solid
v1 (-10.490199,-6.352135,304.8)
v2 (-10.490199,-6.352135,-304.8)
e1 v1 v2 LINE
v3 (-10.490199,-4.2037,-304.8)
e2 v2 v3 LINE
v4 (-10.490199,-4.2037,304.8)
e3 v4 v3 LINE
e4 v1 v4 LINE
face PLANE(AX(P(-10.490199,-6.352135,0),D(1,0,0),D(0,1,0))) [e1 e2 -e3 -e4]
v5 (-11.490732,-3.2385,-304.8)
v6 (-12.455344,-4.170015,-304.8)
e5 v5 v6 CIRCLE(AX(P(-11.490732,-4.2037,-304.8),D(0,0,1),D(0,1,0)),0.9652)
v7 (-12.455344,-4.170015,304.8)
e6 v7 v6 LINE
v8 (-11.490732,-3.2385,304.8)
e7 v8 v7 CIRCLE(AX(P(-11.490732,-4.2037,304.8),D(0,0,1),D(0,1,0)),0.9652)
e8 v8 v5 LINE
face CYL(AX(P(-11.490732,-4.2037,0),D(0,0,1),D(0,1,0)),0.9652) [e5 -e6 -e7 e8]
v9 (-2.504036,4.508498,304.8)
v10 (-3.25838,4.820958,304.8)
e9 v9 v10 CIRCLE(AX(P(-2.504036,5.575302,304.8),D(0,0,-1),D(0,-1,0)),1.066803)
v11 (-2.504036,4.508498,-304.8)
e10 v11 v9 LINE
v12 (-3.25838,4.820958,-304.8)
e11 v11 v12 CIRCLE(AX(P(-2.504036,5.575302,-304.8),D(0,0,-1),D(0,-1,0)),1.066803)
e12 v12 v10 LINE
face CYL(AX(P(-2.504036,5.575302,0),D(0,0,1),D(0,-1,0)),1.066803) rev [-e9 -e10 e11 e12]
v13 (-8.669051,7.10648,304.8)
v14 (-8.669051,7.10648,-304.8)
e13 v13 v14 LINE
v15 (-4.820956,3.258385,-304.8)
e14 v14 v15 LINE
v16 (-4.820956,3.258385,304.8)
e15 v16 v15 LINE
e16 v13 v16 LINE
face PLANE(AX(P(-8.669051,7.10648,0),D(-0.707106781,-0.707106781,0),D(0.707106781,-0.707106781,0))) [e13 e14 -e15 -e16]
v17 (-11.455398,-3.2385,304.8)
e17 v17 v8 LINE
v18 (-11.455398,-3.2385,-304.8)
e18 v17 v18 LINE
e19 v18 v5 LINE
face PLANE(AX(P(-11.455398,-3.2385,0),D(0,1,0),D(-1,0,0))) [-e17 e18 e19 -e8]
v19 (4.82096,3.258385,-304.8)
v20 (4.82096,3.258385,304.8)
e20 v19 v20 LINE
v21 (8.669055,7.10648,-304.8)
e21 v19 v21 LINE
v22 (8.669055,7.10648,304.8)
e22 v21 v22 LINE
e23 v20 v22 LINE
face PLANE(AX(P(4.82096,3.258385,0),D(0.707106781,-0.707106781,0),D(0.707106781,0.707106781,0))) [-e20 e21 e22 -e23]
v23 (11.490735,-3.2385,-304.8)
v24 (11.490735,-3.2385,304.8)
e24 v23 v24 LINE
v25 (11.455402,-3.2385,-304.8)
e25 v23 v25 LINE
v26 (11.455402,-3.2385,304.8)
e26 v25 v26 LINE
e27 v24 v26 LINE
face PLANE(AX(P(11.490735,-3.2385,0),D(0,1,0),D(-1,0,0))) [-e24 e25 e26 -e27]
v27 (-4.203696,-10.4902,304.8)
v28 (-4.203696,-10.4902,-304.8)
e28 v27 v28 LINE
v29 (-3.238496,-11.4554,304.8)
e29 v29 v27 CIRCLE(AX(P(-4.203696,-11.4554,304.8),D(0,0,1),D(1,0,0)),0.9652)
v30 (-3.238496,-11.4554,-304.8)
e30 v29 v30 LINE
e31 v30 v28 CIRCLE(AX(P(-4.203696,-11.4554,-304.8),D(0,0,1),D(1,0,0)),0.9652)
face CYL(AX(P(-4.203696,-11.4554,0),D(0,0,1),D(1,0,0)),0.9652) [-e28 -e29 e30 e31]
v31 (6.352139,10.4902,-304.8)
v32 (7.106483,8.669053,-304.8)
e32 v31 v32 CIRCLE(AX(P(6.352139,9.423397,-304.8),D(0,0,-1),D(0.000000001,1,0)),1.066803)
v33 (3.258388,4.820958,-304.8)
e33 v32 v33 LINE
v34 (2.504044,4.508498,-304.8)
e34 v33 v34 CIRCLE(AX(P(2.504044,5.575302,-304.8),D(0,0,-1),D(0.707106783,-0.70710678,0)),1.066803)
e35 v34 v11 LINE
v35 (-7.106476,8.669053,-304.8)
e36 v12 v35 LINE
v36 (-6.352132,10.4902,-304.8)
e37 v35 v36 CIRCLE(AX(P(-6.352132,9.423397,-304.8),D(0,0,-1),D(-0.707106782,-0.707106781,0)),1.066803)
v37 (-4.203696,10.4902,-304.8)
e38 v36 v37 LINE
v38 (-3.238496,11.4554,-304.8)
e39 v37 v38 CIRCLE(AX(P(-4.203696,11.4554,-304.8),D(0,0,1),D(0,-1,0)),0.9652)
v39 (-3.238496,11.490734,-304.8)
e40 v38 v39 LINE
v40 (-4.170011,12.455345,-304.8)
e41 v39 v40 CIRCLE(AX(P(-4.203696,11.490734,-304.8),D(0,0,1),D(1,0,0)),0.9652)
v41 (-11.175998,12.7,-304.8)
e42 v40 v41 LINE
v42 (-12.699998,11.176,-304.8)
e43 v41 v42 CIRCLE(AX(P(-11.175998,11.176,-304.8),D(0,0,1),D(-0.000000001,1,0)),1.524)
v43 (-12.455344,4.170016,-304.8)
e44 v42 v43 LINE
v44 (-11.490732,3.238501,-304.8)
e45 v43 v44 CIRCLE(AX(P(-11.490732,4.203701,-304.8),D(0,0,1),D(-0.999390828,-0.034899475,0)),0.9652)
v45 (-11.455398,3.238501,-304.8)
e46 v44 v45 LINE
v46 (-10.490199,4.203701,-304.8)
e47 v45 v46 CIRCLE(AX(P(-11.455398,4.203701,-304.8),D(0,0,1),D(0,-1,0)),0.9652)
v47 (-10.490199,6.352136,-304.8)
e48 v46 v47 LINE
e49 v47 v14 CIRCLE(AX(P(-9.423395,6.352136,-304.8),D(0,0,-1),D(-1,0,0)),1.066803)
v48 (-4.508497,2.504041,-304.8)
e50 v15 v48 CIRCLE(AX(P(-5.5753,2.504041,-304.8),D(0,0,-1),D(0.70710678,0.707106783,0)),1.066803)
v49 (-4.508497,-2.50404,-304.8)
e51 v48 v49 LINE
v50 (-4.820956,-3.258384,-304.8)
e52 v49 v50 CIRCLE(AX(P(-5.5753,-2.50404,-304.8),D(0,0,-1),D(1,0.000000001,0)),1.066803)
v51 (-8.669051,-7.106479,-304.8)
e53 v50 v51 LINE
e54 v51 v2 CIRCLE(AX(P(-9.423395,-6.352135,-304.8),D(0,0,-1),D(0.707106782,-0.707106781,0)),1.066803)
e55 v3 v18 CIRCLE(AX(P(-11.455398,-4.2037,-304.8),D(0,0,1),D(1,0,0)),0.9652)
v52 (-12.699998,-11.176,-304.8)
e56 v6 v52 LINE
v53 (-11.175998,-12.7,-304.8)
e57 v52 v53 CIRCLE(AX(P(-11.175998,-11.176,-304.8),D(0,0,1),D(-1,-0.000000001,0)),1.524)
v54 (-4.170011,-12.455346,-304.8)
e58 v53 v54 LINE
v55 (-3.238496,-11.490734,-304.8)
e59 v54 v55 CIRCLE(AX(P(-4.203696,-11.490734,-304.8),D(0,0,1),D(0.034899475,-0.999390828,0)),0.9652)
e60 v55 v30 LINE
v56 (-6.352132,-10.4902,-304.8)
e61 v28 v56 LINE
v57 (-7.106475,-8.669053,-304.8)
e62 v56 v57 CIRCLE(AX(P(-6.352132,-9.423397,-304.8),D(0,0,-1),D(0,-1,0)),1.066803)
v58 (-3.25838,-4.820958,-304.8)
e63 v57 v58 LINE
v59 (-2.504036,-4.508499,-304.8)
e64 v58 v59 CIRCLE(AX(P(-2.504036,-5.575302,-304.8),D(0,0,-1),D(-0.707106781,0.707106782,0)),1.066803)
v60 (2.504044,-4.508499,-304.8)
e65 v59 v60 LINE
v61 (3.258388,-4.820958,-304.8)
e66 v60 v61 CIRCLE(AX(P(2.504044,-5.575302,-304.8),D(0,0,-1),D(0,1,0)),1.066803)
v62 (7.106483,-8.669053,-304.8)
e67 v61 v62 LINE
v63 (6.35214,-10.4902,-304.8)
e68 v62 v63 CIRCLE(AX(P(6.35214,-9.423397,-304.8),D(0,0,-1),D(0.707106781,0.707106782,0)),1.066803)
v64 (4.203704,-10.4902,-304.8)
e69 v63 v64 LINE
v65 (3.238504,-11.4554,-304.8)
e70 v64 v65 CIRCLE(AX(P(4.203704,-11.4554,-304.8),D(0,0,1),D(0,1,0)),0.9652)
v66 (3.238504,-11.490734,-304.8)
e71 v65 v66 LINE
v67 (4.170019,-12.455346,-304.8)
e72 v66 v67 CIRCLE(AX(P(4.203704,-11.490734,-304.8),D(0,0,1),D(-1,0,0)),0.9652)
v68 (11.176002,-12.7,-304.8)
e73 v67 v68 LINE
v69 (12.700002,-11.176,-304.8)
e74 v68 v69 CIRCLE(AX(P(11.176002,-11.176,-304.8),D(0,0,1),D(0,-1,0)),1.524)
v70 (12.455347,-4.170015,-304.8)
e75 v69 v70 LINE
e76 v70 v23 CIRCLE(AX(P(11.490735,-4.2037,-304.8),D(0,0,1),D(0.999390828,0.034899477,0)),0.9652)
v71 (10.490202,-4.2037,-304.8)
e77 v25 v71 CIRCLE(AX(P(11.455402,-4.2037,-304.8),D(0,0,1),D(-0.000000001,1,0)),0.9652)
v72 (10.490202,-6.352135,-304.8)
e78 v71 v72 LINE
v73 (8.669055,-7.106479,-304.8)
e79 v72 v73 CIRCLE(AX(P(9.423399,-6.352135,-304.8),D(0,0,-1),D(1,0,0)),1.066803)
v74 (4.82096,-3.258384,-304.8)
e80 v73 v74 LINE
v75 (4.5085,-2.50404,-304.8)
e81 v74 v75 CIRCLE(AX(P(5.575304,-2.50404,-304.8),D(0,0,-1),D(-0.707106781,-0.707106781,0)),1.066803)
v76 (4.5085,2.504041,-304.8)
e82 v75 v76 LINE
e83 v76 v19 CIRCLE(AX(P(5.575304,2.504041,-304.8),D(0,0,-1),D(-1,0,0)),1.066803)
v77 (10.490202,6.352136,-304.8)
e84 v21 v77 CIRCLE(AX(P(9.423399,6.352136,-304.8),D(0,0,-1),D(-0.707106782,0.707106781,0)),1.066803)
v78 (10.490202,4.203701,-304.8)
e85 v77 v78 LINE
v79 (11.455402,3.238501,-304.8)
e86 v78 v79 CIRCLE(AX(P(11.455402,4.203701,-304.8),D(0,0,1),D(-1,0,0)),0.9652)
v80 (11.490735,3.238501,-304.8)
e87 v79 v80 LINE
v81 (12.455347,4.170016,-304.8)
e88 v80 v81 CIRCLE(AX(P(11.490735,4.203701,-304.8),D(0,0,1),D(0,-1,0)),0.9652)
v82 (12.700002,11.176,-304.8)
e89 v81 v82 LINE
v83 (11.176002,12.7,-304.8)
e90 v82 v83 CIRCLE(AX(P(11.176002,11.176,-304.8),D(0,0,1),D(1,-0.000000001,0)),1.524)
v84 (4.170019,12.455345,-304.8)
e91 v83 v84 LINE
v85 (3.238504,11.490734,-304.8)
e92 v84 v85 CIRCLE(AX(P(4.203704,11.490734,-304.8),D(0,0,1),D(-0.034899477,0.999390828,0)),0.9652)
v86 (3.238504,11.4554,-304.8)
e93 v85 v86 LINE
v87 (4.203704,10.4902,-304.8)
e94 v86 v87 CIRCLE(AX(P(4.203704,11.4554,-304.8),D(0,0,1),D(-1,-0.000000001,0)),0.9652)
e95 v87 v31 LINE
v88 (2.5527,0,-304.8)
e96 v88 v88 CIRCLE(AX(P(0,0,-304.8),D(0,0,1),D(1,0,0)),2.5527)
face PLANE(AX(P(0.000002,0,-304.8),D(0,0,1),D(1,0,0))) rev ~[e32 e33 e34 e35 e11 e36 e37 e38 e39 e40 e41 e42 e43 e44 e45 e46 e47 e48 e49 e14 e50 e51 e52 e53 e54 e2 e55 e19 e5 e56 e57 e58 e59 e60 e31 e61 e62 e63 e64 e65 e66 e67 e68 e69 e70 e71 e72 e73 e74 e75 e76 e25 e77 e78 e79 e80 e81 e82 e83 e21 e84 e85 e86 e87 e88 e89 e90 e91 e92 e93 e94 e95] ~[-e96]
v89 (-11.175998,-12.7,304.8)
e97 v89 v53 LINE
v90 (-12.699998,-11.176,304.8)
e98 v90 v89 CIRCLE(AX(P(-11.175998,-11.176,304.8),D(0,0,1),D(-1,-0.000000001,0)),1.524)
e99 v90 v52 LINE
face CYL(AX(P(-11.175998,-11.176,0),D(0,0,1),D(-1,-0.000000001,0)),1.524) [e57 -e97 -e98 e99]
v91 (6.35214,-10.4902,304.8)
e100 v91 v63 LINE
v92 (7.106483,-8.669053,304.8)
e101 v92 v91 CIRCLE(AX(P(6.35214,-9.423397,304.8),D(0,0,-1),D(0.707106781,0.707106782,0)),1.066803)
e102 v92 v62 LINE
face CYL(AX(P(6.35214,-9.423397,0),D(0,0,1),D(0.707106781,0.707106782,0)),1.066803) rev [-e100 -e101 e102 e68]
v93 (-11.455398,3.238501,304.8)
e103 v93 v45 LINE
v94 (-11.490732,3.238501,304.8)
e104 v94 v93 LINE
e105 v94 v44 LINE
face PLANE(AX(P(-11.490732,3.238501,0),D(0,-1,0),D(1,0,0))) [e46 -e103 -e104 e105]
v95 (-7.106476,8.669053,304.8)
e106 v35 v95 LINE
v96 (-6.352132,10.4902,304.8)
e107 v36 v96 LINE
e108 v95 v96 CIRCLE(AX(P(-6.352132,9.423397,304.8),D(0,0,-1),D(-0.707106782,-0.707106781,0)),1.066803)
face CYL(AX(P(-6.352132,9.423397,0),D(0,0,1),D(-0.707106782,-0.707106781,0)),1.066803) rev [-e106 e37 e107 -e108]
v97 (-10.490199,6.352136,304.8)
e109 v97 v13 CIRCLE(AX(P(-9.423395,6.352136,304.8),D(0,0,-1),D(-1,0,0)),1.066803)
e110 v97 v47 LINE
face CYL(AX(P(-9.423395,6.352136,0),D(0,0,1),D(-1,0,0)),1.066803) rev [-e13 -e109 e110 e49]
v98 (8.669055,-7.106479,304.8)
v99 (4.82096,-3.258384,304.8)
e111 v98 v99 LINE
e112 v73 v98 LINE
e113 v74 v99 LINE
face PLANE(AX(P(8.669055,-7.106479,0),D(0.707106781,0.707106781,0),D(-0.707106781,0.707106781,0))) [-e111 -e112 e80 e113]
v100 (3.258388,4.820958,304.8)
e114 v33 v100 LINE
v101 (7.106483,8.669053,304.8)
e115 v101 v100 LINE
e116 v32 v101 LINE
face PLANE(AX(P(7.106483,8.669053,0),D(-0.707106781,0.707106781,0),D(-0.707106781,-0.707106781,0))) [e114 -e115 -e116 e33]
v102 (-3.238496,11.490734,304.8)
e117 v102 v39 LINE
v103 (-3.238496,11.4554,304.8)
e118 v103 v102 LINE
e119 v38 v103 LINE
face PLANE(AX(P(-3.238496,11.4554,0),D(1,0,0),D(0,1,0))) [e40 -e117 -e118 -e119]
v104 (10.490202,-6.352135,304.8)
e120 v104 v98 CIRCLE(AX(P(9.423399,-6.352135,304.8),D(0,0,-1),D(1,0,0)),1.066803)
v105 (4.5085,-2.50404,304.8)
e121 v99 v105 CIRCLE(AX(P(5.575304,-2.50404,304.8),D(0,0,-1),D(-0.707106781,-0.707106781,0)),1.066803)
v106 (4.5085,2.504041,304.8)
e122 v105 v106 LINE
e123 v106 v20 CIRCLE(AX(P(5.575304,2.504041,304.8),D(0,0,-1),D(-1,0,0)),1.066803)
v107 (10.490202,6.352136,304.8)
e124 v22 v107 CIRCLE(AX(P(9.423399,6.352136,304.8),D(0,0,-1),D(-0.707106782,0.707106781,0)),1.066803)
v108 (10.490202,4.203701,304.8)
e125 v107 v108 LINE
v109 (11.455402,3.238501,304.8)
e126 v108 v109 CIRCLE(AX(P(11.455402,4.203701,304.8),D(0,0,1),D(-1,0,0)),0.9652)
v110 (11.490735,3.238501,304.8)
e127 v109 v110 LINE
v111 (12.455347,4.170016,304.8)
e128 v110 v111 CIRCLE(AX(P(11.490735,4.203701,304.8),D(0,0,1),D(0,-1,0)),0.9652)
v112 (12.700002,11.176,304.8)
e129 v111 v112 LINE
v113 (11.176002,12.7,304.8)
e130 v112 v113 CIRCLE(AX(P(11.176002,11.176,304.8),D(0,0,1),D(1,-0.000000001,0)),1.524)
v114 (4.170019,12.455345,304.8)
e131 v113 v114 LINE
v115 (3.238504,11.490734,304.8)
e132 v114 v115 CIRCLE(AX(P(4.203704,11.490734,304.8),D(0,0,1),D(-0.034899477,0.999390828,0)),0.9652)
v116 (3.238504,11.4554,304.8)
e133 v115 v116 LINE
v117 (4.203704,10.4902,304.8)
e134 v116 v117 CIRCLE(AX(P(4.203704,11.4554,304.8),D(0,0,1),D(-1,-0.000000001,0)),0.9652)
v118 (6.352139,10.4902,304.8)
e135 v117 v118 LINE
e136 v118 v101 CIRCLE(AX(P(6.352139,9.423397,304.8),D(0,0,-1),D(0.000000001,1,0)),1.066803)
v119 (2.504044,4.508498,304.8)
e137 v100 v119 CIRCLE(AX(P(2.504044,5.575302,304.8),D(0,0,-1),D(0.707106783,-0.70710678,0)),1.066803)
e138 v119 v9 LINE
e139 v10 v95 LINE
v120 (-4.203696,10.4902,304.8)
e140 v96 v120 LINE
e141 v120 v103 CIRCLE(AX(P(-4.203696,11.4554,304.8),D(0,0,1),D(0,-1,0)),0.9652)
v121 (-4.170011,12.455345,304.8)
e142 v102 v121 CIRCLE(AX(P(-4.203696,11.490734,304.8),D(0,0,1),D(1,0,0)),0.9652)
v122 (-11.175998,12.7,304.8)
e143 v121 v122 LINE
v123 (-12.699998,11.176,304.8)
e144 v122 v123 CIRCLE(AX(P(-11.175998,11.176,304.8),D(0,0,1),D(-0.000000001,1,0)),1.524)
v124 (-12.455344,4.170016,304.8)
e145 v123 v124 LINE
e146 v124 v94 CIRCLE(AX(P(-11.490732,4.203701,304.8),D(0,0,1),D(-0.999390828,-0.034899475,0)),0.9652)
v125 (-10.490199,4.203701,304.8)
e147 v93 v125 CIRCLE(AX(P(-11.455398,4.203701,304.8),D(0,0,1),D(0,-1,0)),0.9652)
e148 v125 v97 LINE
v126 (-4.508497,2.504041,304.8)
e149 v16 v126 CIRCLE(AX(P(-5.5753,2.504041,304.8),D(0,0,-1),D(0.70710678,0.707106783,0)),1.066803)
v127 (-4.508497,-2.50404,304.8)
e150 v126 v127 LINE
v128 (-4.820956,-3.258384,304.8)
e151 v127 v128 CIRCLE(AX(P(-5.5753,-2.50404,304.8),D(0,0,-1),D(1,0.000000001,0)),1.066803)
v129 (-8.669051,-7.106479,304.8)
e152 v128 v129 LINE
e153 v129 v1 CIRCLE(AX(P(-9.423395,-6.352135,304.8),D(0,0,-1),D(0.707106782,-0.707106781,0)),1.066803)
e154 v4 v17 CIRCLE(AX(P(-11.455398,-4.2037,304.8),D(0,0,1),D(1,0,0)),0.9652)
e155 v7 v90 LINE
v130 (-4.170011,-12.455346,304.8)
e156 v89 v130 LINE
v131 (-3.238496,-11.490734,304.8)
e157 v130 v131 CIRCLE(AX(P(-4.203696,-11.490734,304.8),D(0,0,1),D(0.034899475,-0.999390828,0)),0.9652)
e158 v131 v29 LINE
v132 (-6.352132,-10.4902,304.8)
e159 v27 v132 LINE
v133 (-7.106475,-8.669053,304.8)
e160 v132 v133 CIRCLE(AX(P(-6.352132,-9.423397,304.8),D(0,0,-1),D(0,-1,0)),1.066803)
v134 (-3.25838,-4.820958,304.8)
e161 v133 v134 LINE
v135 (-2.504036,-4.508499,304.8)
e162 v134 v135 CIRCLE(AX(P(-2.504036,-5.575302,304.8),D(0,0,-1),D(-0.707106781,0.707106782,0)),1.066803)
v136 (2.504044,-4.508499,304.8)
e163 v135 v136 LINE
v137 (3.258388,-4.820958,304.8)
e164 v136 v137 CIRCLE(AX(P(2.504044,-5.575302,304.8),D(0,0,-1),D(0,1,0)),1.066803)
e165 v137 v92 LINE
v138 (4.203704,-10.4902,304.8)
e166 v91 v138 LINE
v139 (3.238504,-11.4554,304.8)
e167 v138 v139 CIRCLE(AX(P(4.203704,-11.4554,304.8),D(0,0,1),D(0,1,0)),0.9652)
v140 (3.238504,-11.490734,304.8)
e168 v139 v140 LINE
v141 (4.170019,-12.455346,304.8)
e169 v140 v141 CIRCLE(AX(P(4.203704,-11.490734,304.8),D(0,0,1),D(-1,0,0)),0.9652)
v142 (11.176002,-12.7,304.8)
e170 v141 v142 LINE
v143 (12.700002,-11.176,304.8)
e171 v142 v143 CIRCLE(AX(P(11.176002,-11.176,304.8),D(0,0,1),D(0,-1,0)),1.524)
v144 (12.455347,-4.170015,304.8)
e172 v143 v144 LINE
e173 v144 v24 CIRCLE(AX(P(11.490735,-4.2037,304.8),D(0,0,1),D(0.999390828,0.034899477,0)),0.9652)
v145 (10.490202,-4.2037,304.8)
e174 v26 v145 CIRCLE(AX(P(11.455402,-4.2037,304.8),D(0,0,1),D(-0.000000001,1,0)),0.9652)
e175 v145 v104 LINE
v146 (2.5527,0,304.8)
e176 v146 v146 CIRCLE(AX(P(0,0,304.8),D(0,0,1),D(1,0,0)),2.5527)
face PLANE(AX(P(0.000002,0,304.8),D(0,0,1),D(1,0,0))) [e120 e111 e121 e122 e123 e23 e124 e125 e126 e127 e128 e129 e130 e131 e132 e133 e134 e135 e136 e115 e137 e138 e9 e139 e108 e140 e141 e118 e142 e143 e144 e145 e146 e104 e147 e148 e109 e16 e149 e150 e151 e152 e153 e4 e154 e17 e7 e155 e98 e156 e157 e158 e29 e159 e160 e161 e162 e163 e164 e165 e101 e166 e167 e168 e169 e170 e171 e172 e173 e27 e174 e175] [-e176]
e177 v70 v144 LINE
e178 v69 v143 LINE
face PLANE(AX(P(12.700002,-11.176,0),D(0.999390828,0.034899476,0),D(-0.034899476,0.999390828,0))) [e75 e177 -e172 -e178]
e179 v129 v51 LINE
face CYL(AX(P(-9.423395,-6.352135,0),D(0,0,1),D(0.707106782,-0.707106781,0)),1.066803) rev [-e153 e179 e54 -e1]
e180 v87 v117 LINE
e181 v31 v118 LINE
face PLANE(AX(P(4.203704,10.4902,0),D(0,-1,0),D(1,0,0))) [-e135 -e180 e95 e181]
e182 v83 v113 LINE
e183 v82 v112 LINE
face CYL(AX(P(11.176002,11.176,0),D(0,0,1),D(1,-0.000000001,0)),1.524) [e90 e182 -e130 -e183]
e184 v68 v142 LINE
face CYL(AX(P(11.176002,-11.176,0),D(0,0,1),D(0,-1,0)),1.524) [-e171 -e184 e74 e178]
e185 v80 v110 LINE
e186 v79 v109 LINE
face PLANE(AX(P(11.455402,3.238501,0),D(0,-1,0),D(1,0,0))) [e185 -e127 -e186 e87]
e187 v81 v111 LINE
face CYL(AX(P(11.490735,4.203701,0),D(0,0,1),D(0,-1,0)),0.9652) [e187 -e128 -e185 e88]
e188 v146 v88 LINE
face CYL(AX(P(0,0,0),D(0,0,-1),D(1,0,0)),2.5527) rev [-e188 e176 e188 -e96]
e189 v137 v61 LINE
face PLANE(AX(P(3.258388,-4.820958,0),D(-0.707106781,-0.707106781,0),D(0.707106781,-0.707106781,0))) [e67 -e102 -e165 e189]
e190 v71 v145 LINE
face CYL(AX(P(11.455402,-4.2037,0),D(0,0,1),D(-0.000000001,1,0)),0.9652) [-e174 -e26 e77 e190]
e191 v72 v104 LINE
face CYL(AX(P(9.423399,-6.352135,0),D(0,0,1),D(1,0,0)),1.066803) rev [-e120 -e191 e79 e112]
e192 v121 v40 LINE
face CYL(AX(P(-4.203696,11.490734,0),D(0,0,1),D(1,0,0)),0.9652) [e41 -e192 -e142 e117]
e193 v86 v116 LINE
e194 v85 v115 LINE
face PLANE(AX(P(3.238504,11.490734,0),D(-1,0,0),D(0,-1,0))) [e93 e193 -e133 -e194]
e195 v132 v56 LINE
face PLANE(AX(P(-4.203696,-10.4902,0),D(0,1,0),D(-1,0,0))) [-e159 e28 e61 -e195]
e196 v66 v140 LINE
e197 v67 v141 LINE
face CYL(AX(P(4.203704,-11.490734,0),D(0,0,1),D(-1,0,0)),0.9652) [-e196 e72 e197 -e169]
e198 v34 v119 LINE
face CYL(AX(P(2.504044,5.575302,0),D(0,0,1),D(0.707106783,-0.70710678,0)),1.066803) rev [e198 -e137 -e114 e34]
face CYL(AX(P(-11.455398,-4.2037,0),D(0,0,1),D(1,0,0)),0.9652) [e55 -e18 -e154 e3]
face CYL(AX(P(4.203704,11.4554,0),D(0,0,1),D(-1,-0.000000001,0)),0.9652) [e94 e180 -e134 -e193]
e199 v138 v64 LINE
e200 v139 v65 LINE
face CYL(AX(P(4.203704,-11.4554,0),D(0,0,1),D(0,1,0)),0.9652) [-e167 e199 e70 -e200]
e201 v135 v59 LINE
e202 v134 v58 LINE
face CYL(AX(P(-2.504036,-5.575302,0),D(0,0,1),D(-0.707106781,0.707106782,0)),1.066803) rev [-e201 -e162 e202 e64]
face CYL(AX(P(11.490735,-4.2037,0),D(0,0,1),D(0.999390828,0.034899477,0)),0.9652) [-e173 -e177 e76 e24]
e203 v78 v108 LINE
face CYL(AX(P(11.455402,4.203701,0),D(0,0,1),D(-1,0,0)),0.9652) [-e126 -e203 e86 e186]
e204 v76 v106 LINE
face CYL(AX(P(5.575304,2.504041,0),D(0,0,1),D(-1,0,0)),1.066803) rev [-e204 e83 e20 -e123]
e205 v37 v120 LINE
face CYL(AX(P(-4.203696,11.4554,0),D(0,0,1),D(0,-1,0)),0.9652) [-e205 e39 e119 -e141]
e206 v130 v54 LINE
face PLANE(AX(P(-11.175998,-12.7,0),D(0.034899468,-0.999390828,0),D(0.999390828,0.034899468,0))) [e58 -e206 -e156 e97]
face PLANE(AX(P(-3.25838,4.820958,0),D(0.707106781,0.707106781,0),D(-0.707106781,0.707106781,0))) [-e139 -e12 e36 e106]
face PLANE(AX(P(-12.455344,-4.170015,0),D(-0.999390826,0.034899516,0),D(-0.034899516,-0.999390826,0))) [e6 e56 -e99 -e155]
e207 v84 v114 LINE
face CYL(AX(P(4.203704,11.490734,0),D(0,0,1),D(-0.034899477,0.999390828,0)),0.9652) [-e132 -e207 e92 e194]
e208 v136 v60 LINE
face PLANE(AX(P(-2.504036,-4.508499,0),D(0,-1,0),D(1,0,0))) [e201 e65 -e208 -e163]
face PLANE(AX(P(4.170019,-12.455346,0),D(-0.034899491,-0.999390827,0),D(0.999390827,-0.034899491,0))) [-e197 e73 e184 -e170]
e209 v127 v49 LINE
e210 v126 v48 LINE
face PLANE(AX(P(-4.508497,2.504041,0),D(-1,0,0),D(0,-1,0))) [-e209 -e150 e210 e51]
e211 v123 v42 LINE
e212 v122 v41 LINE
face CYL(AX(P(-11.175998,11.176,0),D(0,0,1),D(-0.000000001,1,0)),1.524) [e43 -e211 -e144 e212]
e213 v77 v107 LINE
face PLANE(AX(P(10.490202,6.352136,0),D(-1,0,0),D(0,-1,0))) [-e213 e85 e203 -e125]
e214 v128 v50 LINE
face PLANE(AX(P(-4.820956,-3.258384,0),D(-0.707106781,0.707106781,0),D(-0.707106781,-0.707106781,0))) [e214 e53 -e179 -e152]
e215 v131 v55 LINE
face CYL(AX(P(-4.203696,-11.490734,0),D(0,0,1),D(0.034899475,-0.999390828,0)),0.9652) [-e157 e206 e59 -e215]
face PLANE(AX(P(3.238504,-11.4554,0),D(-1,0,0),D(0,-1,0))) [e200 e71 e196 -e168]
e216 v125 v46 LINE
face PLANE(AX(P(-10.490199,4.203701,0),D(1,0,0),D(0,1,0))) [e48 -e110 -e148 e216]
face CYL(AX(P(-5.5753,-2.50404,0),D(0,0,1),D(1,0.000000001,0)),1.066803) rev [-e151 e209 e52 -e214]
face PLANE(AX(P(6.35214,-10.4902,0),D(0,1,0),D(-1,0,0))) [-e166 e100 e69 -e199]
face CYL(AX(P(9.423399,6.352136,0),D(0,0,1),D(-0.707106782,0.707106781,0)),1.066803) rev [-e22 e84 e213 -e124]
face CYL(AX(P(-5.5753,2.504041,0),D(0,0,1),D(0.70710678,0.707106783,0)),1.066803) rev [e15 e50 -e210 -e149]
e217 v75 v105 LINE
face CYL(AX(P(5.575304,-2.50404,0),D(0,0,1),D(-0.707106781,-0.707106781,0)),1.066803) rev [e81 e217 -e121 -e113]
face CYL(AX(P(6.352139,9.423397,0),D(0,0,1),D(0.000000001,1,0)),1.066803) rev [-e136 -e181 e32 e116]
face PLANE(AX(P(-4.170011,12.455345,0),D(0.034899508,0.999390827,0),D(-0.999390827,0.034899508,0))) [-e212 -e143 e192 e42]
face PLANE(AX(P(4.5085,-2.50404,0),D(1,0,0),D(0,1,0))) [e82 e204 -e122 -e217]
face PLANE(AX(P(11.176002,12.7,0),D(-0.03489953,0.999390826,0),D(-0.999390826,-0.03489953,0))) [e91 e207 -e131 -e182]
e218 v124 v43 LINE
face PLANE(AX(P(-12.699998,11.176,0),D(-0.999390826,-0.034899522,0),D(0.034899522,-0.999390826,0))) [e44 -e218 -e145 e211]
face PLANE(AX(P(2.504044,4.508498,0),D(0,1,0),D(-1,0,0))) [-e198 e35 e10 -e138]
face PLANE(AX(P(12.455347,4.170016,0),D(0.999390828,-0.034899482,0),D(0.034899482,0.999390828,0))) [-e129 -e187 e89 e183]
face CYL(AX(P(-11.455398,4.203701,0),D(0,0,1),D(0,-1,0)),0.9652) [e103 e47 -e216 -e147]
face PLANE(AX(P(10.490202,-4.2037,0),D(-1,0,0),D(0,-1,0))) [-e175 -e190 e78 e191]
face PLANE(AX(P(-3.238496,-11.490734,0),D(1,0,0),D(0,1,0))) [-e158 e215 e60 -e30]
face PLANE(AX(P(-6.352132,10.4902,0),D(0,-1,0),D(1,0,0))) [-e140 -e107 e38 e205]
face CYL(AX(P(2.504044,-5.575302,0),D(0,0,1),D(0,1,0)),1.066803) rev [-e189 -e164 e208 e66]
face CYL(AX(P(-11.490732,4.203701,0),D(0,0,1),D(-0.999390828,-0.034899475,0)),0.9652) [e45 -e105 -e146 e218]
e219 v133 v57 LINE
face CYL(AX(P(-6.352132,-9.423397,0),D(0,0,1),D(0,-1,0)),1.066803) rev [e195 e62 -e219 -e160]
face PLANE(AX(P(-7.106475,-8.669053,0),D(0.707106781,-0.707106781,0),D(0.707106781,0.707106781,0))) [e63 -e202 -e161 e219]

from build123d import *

# Parameters (mm, degrees)
SKETCH1_R      = 2.5527
EXTRUDE1_DEPTH = 304.8


with BuildPart() as part:
    # Sketch1 → Extrude1 (new body, symmetric)
    with BuildSketch(Plane.XY):
        with BuildLine():
            Line((3.238504286, -11.455400345), (3.238504286, -11.49073383))
            ThreePointArc((3.238504286, -11.49073383), (3.509397472, -12.161218003), (4.170019162, -12.455345741))
            Line((4.170019162, -12.455345741), (11.176001705, -12.7))
            ThreePointArc((11.176001705, -12.7), (12.253632411, -12.253630746), (12.700001664, -11.17600004))
            Line((12.700001664, -11.17600004), (12.455347406, -4.170014669))
            ThreePointArc((12.455347406, -4.170014669), (12.16121968, -3.509392954), (11.490735494, -3.238499755))
            Line((11.490735494, -3.238499755), (11.455402009, -3.238499755))
            ThreePointArc((11.455402009, -3.238499755), (10.772902626, -3.521200256), (10.490202125, -4.20369964))
            Line((10.490202125, -4.20369964), (10.490202125, -6.352134987))
            ThreePointArc((10.490202125, -6.352134987), (9.831646779, -7.337732713), (8.669054992, -7.106478829))
            Line((8.669054992, -7.106478829), (4.820959759, -3.258383596))
            ThreePointArc((4.820959759, -3.258383596), (4.589705874, -2.912287699), (4.508500309, -2.504039754))
            Line((4.508500309, -2.504039754), (4.508500309, 2.504040946))
            ThreePointArc((4.508500309, 2.504040946), (4.589705874, 2.912288891), (4.820959759, 3.258384788))
            Line((4.820959759, 3.258384788), (8.669054992, 7.106480021))
            ThreePointArc((8.669054992, 7.106480021), (9.831646779, 7.337733906), (10.490202125, 6.35213618))
            Line((10.490202125, 6.35213618), (10.490202125, 4.203700832))
            ThreePointArc((10.490202125, 4.203700832), (10.772902626, 3.521201448), (11.455402009, 3.238500947))
            Line((11.455402009, 3.238500947), (11.490735494, 3.238500947))
            ThreePointArc((11.490735494, 3.238500947), (12.161219667, 3.509394133), (12.455347406, 4.170015823))
            Line((12.455347406, 4.170015823), (12.700001664, 11.176000039))
            ThreePointArc((12.700001664, 11.176000039), (12.253632411, 12.253630745), (11.176001705, 12.699999999))
            Line((11.176001705, 12.699999999), (4.170019162, 12.455345462))
            ThreePointArc((4.170019162, 12.455345462), (3.509397447, 12.161217736), (3.238504248, 11.49073355))
            Line((3.238504248, 11.49073355), (3.238504248, 11.455400065))
            ThreePointArc((3.238504248, 11.455400065), (3.521204749, 10.772900682), (4.203704132, 10.490200181))
            Line((4.203704132, 10.490200181), (6.35213948, 10.490200181))
            ThreePointArc((6.35213948, 10.490200181), (7.337737205, 9.831644835), (7.106483322, 8.669053049))
            Line((7.106483322, 8.669053049), (3.258388088, 4.820957816))
            ThreePointArc((3.258388088, 4.820957816), (2.912292192, 4.589703931), (2.504044247, 4.508498366))
            Line((2.504044247, 4.508498366), (-2.504036453, 4.508498366))
            ThreePointArc((-2.504036453, 4.508498366), (-2.912284398, 4.589703931), (-3.258380295, 4.820957816))
            Line((-3.258380295, 4.820957816), (-7.106475528, 8.669053049))
            ThreePointArc((-7.106475528, 8.669053049), (-7.337729412, 9.831644836), (-6.352131686, 10.490200182))
            Line((-6.352131686, 10.490200182), (-4.203696339, 10.490200182))
            ThreePointArc((-4.203696339, 10.490200182), (-3.521196955, 10.772900683), (-3.238496454, 11.455400067))
            Line((-3.238496454, 11.455400067), (-3.238496454, 11.490733551))
            ThreePointArc((-3.238496454, 11.490733551), (-3.50938964, 12.161217724), (-4.17001133, 12.455345462))
            Line((-4.17001133, 12.455345462), (-11.175998375, 12.699999999))
            ThreePointArc((-11.175998375, 12.699999999), (-12.253629081, 12.253630745), (-12.699998335, 11.176000039))
            Line((-12.699998335, 11.176000039), (-12.455343798, 4.170015823))
            ThreePointArc((-12.455343798, 4.170015823), (-12.161216073, 3.509394108), (-11.490731887, 3.238500909))
            Line((-11.490731887, 3.238500909), (-11.455398403, 3.238500909))
            ThreePointArc((-11.455398403, 3.238500909), (-10.772899019, 3.52120141), (-10.490198518, 4.203700793))
            Line((-10.490198518, 4.203700793), (-10.490198518, 6.352136141))
            ThreePointArc((-10.490198518, 6.352136141), (-9.831643172, 7.337733867), (-8.669051385, 7.106479983))
            Line((-8.669051385, 7.106479983), (-4.820956152, 3.258384749))
            ThreePointArc((-4.820956152, 3.258384749), (-4.589702267, 2.912288853), (-4.508496702, 2.504040908))
            Line((-4.508496702, 2.504040908), (-4.508496702, -2.504039793))
            ThreePointArc((-4.508496702, -2.504039793), (-4.589702267, -2.912287738), (-4.820956152, -3.258383634))
            Line((-4.820956152, -3.258383634), (-8.669051385, -7.106478867))
            ThreePointArc((-8.669051385, -7.106478867), (-9.831643172, -7.337732752), (-10.490198518, -6.352135026))
            Line((-10.490198518, -6.352135026), (-10.490198518, -4.203699678))
            ThreePointArc((-10.490198518, -4.203699678), (-10.772899019, -3.521200294), (-11.455398403, -3.238499793))
            Line((-11.455398403, -3.238499793), (-11.490731887, -3.238499793))
            ThreePointArc((-11.490731887, -3.238499793), (-12.16121606, -3.509392979), (-12.455343798, -4.170014669))
            Line((-12.455343798, -4.170014669), (-12.699998335, -11.17600004))
            ThreePointArc((-12.699998335, -11.17600004), (-12.253629081, -12.253630746), (-11.175998375, -12.7))
            Line((-11.175998375, -12.7), (-4.17001133, -12.455345741))
            ThreePointArc((-4.17001133, -12.455345741), (-3.509389615, -12.161218016), (-3.238496416, -11.49073383))
            Line((-3.238496416, -11.49073383), (-3.238496416, -11.455400345))
            ThreePointArc((-3.238496416, -11.455400345), (-3.521196917, -10.772900961), (-4.2036963, -10.49020046))
            Line((-4.2036963, -10.49020046), (-6.352131648, -10.49020046))
            ThreePointArc((-6.352131648, -10.49020046), (-7.337729374, -9.831645114), (-7.106475489, -8.669053328))
            Line((-7.106475489, -8.669053328), (-3.258380256, -4.820958094))
            ThreePointArc((-3.258380256, -4.820958094), (-2.91228436, -4.58970421), (-2.504036415, -4.508498645))
            Line((-2.504036415, -4.508498645), (2.504044285, -4.508498645))
            ThreePointArc((2.504044285, -4.508498645), (2.91229223, -4.58970421), (3.258388127, -4.820958094))
            Line((3.258388127, -4.820958094), (7.10648336, -8.669053328))
            ThreePointArc((7.10648336, -8.669053328), (7.337737245, -9.831645114), (6.352139519, -10.49020046))
            Line((6.352139519, -10.49020046), (4.203704171, -10.49020046))
            ThreePointArc((4.203704171, -10.49020046), (3.521204787, -10.772900961), (3.238504286, -11.455400345))
        make_face()
        Circle(SKETCH1_R, mode=Mode.SUBTRACT)
    extrude(amount=EXTRUDE1_DEPTH, both=True)


solid = part.part
